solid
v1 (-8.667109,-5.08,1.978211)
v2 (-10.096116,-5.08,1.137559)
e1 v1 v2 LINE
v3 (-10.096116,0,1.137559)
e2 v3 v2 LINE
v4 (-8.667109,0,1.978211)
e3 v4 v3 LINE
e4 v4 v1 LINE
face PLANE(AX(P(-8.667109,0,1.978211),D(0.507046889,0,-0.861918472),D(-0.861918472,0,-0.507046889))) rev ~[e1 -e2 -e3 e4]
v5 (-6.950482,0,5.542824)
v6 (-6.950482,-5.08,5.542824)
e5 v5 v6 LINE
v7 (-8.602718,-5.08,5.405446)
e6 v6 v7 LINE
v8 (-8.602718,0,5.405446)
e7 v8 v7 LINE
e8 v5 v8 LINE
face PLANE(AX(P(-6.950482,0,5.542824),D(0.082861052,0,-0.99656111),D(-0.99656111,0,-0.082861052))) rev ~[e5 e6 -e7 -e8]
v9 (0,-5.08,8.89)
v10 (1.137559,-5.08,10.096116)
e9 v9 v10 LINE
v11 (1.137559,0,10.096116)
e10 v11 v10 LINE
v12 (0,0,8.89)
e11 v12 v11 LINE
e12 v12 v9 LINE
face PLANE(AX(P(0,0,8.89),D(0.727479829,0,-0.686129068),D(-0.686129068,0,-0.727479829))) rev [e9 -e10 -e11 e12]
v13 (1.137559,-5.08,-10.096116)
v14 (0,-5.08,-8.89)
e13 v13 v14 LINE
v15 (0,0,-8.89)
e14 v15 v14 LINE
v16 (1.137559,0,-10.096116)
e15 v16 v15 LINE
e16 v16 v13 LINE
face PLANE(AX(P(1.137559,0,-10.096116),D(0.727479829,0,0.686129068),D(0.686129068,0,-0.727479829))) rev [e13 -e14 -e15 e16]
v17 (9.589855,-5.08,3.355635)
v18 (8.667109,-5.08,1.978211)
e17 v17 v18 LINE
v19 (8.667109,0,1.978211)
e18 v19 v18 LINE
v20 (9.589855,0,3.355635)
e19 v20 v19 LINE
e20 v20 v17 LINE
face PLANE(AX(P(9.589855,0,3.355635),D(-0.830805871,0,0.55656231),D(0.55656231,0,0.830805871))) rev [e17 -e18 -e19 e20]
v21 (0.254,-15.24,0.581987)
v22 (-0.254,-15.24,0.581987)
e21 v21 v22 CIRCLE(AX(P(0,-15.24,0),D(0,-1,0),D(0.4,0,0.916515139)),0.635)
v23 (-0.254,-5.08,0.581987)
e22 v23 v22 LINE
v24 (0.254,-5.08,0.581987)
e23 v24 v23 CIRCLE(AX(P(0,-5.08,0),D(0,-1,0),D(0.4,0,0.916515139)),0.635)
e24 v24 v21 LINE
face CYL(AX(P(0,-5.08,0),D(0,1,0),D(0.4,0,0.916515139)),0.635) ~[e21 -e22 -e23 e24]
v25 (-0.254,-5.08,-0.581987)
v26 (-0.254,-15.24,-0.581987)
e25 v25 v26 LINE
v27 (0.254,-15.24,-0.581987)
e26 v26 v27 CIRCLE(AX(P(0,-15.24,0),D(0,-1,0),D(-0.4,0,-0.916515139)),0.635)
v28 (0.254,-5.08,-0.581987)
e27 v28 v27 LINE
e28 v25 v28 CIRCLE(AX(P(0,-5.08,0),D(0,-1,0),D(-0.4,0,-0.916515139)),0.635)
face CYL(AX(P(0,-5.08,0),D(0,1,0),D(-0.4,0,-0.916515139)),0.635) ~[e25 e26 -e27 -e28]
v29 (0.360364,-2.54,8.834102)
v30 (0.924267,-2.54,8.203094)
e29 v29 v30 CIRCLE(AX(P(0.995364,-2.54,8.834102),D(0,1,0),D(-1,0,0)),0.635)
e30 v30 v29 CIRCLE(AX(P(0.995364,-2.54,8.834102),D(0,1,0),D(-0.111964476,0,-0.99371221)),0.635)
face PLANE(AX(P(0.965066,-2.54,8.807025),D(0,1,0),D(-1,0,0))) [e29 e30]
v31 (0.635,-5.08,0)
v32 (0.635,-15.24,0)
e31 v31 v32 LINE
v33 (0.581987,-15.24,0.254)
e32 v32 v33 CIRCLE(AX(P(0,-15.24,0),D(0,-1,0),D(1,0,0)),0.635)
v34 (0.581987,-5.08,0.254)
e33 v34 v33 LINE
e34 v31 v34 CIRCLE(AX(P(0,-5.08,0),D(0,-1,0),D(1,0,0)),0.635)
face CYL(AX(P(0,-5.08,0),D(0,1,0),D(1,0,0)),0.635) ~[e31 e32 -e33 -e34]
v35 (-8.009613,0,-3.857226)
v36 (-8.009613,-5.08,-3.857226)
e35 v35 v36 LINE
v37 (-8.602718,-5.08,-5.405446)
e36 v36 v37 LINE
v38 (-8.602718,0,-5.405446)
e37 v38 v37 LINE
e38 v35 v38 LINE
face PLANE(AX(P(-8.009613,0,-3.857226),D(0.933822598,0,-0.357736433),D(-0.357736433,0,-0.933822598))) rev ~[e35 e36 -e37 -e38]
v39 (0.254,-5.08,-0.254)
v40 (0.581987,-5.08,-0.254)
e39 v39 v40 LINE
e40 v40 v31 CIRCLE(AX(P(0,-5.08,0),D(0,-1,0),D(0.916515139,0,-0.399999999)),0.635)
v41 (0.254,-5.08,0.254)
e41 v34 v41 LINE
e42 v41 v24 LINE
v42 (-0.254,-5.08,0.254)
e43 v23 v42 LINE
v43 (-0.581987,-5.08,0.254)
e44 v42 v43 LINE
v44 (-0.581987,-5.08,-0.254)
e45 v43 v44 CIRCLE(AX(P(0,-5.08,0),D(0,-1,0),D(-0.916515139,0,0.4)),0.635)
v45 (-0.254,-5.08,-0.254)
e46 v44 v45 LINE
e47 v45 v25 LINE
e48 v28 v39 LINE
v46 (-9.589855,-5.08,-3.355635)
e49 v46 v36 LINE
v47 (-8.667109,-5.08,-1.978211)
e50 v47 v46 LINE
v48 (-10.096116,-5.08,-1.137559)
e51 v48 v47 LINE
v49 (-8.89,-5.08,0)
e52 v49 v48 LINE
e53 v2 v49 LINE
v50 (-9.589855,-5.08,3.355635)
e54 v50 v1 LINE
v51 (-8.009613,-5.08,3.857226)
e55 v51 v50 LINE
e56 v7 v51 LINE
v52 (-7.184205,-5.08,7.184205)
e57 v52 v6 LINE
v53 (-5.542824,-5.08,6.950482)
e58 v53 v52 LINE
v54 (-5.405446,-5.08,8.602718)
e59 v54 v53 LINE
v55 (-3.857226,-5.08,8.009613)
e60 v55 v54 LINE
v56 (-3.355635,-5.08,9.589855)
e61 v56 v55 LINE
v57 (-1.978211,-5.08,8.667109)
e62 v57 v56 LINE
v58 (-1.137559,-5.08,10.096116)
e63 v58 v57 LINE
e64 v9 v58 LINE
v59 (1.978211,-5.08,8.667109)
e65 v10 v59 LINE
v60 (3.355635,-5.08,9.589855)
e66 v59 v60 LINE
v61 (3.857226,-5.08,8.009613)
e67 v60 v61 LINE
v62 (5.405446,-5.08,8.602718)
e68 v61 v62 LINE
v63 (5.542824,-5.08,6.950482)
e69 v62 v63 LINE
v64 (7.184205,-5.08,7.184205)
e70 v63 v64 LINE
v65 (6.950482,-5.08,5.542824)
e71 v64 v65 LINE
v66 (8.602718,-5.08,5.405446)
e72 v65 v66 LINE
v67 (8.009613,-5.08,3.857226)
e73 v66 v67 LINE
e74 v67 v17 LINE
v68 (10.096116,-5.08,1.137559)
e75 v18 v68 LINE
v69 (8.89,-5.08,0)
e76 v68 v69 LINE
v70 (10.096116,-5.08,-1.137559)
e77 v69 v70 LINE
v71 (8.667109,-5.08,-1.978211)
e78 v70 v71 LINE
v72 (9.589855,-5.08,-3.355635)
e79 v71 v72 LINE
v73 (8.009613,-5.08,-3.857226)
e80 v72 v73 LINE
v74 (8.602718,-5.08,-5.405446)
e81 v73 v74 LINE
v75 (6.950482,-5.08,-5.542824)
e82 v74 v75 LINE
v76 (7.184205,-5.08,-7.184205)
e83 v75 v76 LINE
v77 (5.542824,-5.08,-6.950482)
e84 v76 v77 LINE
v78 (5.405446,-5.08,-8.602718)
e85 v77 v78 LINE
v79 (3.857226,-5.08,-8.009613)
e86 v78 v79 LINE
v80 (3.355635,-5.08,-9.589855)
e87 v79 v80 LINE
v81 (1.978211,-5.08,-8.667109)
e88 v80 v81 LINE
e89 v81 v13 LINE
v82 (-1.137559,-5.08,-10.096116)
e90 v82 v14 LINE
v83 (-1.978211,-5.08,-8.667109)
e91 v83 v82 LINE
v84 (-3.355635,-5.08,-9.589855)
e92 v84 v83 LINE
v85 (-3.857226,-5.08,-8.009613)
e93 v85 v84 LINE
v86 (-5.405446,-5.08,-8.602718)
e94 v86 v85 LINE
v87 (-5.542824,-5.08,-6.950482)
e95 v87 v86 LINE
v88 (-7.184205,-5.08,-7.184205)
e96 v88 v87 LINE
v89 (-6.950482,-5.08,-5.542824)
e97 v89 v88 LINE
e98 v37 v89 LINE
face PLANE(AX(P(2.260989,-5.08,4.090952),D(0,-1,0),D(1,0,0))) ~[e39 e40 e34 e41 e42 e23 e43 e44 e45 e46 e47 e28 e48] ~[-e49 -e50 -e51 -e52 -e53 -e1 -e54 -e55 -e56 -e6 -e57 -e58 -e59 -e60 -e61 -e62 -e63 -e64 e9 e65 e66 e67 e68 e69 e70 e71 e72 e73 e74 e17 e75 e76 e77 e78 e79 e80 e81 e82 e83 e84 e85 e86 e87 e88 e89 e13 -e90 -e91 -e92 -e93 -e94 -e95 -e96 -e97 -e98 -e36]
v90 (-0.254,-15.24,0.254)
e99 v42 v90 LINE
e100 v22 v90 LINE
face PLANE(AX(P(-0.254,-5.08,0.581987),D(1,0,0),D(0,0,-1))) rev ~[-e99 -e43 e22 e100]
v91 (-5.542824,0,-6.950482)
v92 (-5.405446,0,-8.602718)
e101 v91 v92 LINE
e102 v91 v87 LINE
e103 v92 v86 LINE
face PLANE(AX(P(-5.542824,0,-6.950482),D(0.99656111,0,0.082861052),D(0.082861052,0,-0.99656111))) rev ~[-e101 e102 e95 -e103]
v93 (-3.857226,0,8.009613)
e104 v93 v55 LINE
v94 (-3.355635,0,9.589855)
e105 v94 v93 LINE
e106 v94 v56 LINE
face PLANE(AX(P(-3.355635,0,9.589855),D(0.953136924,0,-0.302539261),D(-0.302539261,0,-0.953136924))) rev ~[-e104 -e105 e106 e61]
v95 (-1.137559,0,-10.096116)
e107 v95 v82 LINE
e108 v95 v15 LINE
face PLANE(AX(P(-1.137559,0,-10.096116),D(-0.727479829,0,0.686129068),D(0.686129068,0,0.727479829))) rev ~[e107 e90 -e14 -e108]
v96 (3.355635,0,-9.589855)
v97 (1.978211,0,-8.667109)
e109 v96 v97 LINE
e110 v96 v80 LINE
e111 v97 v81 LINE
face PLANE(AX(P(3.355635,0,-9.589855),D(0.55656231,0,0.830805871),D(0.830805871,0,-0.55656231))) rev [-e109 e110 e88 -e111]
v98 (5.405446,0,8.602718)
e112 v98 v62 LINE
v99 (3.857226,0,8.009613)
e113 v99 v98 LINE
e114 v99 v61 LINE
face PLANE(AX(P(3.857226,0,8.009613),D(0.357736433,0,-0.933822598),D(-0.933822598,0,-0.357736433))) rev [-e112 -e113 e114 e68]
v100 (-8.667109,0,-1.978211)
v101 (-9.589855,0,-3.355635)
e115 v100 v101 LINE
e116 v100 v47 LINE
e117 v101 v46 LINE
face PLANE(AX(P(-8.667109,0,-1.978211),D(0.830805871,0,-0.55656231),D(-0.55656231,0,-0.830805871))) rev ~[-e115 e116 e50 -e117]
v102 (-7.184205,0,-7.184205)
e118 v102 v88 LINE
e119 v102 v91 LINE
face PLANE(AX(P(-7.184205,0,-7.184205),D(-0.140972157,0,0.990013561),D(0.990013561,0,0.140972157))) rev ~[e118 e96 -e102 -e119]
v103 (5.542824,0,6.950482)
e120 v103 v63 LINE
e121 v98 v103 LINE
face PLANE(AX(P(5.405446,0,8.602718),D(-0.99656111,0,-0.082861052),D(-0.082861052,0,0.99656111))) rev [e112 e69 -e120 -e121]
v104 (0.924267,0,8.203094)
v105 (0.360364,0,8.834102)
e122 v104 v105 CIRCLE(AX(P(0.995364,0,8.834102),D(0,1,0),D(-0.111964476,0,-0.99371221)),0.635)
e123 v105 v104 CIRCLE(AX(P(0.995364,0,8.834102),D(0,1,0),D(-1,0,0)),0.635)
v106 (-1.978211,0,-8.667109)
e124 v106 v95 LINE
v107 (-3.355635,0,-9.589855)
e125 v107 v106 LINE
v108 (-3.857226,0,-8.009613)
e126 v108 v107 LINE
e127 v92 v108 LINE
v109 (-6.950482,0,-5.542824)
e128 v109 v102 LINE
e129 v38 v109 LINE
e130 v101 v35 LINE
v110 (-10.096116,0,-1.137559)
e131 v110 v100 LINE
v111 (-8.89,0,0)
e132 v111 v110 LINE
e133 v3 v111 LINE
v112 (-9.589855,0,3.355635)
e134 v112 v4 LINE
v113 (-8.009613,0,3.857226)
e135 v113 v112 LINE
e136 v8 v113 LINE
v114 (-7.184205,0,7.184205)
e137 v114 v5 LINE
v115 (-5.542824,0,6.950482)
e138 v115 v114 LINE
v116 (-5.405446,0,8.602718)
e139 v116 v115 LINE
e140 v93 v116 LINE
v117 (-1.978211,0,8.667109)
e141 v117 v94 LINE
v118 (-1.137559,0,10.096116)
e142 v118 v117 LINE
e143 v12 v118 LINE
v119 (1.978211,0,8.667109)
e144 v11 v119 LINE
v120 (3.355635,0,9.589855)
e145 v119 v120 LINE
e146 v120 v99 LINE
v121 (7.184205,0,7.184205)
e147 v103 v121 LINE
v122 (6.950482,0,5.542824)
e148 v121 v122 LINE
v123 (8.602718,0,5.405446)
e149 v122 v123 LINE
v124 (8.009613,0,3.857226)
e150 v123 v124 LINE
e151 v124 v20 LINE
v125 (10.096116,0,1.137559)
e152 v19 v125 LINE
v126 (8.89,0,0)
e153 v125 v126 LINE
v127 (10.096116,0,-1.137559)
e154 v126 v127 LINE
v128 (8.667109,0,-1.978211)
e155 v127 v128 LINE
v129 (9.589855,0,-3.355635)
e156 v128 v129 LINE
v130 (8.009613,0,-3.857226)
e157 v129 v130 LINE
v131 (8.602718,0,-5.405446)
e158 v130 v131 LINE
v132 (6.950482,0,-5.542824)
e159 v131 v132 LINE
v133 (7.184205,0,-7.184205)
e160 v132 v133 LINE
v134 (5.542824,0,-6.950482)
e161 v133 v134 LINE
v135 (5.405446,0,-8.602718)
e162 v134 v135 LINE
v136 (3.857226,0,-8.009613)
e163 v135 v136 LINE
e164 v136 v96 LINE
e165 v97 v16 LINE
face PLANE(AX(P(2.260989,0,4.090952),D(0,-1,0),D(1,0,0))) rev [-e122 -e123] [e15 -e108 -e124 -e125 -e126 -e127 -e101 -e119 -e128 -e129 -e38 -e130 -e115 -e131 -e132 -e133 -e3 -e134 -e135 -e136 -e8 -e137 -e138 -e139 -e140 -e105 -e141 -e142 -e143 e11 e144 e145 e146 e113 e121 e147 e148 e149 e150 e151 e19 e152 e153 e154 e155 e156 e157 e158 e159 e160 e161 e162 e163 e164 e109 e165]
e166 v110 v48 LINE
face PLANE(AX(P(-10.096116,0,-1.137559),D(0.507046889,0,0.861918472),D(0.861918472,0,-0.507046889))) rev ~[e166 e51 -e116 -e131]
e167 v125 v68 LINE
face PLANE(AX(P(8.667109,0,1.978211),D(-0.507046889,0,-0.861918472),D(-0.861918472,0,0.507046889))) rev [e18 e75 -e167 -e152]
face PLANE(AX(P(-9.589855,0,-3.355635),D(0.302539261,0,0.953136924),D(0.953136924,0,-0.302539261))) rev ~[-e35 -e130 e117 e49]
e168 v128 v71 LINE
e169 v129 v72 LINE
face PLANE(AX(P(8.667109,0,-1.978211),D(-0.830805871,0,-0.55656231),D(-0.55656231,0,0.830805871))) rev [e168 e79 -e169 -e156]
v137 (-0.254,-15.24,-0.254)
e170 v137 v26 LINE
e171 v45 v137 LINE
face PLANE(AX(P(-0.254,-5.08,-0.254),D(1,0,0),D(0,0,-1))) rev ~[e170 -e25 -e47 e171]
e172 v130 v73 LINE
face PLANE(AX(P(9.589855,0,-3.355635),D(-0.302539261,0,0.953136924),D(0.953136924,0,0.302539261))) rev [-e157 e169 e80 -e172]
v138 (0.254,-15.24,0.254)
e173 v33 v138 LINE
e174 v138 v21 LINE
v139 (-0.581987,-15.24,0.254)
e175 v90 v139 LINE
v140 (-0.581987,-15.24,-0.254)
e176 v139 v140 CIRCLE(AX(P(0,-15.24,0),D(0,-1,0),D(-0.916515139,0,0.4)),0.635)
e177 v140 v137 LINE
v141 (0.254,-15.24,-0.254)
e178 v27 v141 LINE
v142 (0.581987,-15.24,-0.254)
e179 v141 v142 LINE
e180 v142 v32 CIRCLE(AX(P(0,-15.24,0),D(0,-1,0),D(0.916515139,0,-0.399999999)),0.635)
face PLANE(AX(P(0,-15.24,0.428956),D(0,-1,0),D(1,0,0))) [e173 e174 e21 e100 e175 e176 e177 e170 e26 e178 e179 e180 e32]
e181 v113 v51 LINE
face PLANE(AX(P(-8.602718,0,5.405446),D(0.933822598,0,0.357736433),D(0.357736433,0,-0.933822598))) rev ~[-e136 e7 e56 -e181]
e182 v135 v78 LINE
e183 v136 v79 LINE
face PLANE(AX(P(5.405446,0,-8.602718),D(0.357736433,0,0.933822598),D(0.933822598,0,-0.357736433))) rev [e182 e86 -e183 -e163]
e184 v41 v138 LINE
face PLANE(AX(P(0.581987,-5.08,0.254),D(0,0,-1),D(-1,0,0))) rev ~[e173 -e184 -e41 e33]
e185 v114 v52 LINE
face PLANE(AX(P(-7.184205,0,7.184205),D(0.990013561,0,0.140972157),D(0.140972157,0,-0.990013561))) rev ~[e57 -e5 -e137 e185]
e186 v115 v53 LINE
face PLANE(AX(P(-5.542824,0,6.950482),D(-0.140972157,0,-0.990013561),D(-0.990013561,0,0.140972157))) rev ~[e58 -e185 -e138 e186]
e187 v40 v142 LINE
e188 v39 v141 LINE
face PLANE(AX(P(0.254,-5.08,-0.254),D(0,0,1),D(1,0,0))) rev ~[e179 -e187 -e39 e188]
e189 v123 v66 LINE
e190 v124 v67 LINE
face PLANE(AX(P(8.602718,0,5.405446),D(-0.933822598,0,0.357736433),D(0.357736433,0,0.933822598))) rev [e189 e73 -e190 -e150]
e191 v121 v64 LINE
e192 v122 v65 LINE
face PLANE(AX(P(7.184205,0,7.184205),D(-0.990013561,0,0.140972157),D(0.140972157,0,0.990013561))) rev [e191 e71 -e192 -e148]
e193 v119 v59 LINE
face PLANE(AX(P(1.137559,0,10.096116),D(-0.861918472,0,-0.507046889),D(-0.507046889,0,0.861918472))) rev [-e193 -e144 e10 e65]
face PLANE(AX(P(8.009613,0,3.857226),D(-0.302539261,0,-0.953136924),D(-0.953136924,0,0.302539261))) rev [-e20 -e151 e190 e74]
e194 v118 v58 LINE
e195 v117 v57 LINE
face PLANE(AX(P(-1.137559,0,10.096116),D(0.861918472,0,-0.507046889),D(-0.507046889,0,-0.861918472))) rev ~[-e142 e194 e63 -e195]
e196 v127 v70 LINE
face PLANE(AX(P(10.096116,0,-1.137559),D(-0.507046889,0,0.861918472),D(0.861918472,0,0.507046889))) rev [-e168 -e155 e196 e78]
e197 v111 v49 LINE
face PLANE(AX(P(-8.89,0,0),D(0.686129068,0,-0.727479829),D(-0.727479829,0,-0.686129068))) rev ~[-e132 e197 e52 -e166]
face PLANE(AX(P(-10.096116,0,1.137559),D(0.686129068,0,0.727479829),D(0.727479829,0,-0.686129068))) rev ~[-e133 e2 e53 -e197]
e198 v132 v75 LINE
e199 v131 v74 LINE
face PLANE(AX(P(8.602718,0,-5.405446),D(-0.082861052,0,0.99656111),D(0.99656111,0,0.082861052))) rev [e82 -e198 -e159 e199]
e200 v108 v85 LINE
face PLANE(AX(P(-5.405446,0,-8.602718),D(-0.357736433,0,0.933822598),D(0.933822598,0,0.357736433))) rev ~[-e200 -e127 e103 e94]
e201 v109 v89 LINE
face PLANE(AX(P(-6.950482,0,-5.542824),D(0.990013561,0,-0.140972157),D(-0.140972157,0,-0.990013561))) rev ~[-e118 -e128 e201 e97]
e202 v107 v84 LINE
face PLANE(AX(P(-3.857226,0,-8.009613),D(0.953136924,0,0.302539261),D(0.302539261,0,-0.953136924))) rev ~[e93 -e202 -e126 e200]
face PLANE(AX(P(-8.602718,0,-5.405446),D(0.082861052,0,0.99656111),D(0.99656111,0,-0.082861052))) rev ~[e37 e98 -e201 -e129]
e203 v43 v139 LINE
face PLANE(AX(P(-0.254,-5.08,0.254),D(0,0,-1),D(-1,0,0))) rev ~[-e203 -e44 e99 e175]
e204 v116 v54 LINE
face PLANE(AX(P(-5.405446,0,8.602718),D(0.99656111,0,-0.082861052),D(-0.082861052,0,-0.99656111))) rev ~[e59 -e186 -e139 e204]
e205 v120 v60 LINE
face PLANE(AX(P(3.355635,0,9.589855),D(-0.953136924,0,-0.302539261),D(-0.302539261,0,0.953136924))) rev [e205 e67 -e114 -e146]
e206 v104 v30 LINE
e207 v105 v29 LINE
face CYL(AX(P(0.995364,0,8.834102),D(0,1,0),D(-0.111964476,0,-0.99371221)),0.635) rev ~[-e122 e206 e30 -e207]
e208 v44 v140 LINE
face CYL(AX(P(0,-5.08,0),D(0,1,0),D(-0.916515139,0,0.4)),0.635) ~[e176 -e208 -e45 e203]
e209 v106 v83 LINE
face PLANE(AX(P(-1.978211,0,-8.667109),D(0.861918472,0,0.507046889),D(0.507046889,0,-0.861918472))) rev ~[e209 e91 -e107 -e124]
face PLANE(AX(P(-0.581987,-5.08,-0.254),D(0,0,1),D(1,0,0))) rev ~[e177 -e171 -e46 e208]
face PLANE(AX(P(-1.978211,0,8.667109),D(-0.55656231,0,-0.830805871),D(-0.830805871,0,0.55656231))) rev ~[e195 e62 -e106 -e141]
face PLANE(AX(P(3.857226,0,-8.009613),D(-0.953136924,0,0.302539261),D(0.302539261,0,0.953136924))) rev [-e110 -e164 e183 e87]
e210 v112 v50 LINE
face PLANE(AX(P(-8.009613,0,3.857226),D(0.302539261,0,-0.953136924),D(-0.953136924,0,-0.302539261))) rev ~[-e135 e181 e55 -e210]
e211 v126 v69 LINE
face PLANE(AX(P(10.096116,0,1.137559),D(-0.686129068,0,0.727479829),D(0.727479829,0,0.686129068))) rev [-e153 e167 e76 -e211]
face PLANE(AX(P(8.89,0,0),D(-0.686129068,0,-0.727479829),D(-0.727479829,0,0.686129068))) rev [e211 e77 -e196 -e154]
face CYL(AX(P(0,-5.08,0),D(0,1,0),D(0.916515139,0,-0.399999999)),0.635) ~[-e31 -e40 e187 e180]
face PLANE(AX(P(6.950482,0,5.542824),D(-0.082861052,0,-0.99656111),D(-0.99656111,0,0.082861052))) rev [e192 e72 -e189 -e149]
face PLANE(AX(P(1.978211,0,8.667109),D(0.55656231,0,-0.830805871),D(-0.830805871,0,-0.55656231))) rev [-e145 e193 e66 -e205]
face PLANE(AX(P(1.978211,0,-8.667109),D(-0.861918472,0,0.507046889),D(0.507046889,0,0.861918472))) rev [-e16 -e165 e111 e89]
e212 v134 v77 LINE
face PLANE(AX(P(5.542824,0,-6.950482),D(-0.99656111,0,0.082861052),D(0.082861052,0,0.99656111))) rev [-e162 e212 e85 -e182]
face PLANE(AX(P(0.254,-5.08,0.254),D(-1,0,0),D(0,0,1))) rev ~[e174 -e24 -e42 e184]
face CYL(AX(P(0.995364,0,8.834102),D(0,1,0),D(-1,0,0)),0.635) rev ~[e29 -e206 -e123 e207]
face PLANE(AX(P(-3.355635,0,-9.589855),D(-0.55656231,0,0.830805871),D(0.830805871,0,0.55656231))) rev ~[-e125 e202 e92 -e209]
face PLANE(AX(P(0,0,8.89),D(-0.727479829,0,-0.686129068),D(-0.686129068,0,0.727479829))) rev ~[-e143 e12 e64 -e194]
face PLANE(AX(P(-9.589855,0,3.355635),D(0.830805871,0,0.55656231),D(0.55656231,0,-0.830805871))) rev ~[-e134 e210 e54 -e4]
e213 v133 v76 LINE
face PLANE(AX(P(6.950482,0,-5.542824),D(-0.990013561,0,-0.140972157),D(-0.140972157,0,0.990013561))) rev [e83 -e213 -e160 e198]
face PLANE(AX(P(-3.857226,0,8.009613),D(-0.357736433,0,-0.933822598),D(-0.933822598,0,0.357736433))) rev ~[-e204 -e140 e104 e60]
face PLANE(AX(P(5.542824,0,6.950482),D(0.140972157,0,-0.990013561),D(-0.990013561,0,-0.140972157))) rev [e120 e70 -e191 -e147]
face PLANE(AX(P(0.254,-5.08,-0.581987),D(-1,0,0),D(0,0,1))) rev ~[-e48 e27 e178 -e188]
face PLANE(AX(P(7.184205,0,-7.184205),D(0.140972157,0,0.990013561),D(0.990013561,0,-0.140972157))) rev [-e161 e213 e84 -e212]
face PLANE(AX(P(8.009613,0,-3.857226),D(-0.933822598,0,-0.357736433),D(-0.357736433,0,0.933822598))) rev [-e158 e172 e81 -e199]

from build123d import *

# Parameters (mm, degrees)
F1_DEPTH = 5.08
F3_W     = 0.508
F3_H     = 0.508
F4_DEPTH = 10.16
F6_DEPTH = 2.54


with BuildPart() as f1:
    # F0 (on Front) → F1 (new body)
    with BuildSketch(Plane.XZ):
        with BuildLine():
            Line((-4.7297651602, 7.5273781311), (0, 0))
            Line((0, 0), (-3.8572264408, 8.0096132357))
            ThreePointArc((-3.8572264408, 8.0096132357), (-4.3002609064, 7.7807362208), (-4.7297651602, 7.5273781311))
        make_face()
        with BuildLine():
            Line((-5.5428243385, 6.9504818791), (0, 0))
            Line((0, 0), (-4.7297651602, 7.5273781311))
            ThreePointArc((-4.7297651602, 7.5273781311), (-5.144387823, 7.250336125), (-5.5428243385, 6.9504818791))
        make_face()
        with BuildLine():
            Line((-5.4054458974, 8.6027178642), (-5.5428243385, 6.9504818791))
            ThreePointArc((-5.5428243385, 6.9504818791), (-5.144387823, 7.250336125), (-4.7297651602, 7.5273781311))
            Line((-4.7297651602, 7.5273781311), (-5.4054458974, 8.6027178642))
        make_face()
        with BuildLine():
            Line((-5.4054458974, 8.6027178642), (-4.7297651602, 7.5273781311))
            ThreePointArc((-4.7297651602, 7.5273781311), (-4.3002609064, 7.7807362208), (-3.8572264408, 8.0096132357))
            Line((-3.8572264408, 8.0096132357), (-5.4054458974, 8.6027178642))
        make_face()
        with BuildLine():
            Line((-3.3556352695, 9.5898546359), (-3.8572264408, 8.0096132357))
            ThreePointArc((-3.8572264408, 8.0096132357), (-3.4020557137, 8.213289044), (-2.9361808608, 8.3911228064))
            Line((-2.9361808608, 8.3911228064), (-3.3556352695, 9.5898546359))
        make_face()
        with BuildLine():
            Line((-3.3556352695, 9.5898546359), (-2.9361808608, 8.3911228064))
            ThreePointArc((-2.9361808608, 8.3911228064), (-2.4610676966, 8.5425549921), (-1.9782111029, 8.6671091393))
            Line((-1.9782111029, 8.6671091393), (-3.3556352695, 9.5898546359))
        make_face()
        with BuildLine():
            Line((-2.9361808608, 8.3911228064), (0, 0))
            Line((0, 0), (-1.9782111029, 8.6671091393))
            ThreePointArc((-1.9782111029, 8.6671091393), (-2.4610676966, 8.5425549921), (-2.9361808608, 8.3911228064))
        make_face()
        with BuildLine():
            Line((-3.8572264408, 8.0096132357), (0, 0))
            Line((0, 0), (-2.9361808608, 8.3911228064))
            ThreePointArc((-2.9361808608, 8.3911228064), (-3.4020557137, 8.213289044), (-3.8572264408, 8.0096132357))
        make_face()
        with BuildLine():
            Line((-0.9953641926, 8.834101546), (0, 0))
            Line((0, 0), (0, 8.89))
            ThreePointArc((0, 8.89), (-0.4984662759, 8.8760143855), (-0.9953641926, 8.834101546))
        make_face()
        with BuildLine():
            ThreePointArc((-0.9953641926, 8.834101546), (-0.4984662759, 8.8760143855), (0, 8.89))
            Line((0, 8.89), (-1.1375590772, 10.0961160525))
            Line((-1.1375590772, 10.0961160525), (-0.9953641926, 8.834101546))
        make_face()
        with BuildLine():
            Line((-1.1375590772, 10.0961160525), (-1.9782111029, 8.6671091393))
            ThreePointArc((-1.9782111029, 8.6671091393), (-1.4891303252, 8.7643933546), (-0.9953641926, 8.834101546))
            Line((-0.9953641926, 8.834101546), (-1.1375590772, 10.0961160525))
        make_face()
        with BuildLine():
            Line((-1.9782111029, 8.6671091393), (0, 0))
            Line((0, 0), (-0.9953641926, 8.834101546))
            ThreePointArc((-0.9953641926, 8.834101546), (-1.4891303252, 8.7643933546), (-1.9782111029, 8.6671091393))
        make_face()
        with BuildLine():
            Line((-6.2861792847, 6.2861792847), (0, 0))
            Line((0, 0), (-5.5428243385, 6.9504818791))
            ThreePointArc((-5.5428243385, 6.9504818791), (-5.923821078, 6.6287588458), (-6.2861792847, 6.2861792847))
        make_face()
        with BuildLine():
            Line((-7.1842048969, 7.1842048969), (-6.2861792847, 6.2861792847))
            ThreePointArc((-6.2861792847, 6.2861792847), (-5.923821078, 6.6287588458), (-5.5428243385, 6.9504818791))
            Line((-5.5428243385, 6.9504818791), (-7.1842048969, 7.1842048969))
        make_face()
        with BuildLine():
            Line((-6.9504818791, 5.5428243385), (0, 0))
            Line((0, 0), (-6.2861792847, 6.2861792847))
            ThreePointArc((-6.2861792847, 6.2861792847), (-6.6287588458, 5.923821078), (-6.9504818791, 5.5428243385))
        make_face()
        with BuildLine():
            Line((-7.1842048969, 7.1842048969), (-6.9504818791, 5.5428243385))
            ThreePointArc((-6.9504818791, 5.5428243385), (-6.6287588458, 5.923821078), (-6.2861792847, 6.2861792847))
            Line((-6.2861792847, 6.2861792847), (-7.1842048969, 7.1842048969))
        make_face()
        with BuildLine():
            Line((-7.5273781311, 4.7297651602), (0, 0))
            Line((0, 0), (-6.9504818791, 5.5428243385))
            ThreePointArc((-6.9504818791, 5.5428243385), (-7.250336125, 5.144387823), (-7.5273781311, 4.7297651602))
        make_face()
        with BuildLine():
            Line((-8.6027178642, 5.4054458974), (-7.5273781311, 4.7297651602))
            ThreePointArc((-7.5273781311, 4.7297651602), (-7.250336125, 5.144387823), (-6.9504818791, 5.5428243385))
            Line((-6.9504818791, 5.5428243385), (-8.6027178642, 5.4054458974))
        make_face()
        with BuildLine():
            Line((-8.6027178642, 5.4054458974), (-8.0096132357, 3.8572264408))
            ThreePointArc((-8.0096132357, 3.8572264408), (-7.7807362208, 4.3002609064), (-7.5273781311, 4.7297651602))
            Line((-7.5273781311, 4.7297651602), (-8.6027178642, 5.4054458974))
        make_face()
        with BuildLine():
            Line((-8.0096132357, 3.8572264408), (0, 0))
            Line((0, 0), (-7.5273781311, 4.7297651602))
            ThreePointArc((-7.5273781311, 4.7297651602), (-7.7807362208, 4.3002609064), (-8.0096132357, 3.8572264408))
        make_face()
        with BuildLine():
            Line((-8.3911228064, 2.9361808608), (0, 0))
            Line((0, 0), (-8.0096132357, 3.8572264408))
            ThreePointArc((-8.0096132357, 3.8572264408), (-8.213289044, 3.4020557137), (-8.3911228064, 2.9361808608))
        make_face()
        with BuildLine():
            Line((-9.5898546359, 3.3556352695), (-8.3911228064, 2.9361808608))
            ThreePointArc((-8.3911228064, 2.9361808608), (-8.213289044, 3.4020557137), (-8.0096132357, 3.8572264408))
            Line((-8.0096132357, 3.8572264408), (-9.5898546359, 3.3556352695))
        make_face()
        with BuildLine():
            Line((-9.5898546359, 3.3556352695), (-8.6671091393, 1.9782111029))
            ThreePointArc((-8.6671091393, 1.9782111029), (-8.5425549921, 2.4610676966), (-8.3911228064, 2.9361808608))
            Line((-8.3911228064, 2.9361808608), (-9.5898546359, 3.3556352695))
        make_face()
        with BuildLine():
            Line((-8.6671091393, 1.9782111029), (0, 0))
            Line((0, 0), (-8.3911228064, 2.9361808608))
            ThreePointArc((-8.3911228064, 2.9361808608), (-8.5425549921, 2.4610676966), (-8.6671091393, 1.9782111029))
        make_face()
        with BuildLine():
            Line((-8.834101546, 0.9953641926), (0, 0))
            Line((0, 0), (-8.6671091393, 1.9782111029))
            ThreePointArc((-8.6671091393, 1.9782111029), (-8.7643933546, 1.4891303252), (-8.834101546, 0.9953641926))
        make_face()
        with BuildLine():
            Line((-10.0961160525, 1.1375590772), (-8.834101546, 0.9953641926))
            ThreePointArc((-8.834101546, 0.9953641926), (-8.7643933546, 1.4891303252), (-8.6671091393, 1.9782111029))
            Line((-8.6671091393, 1.9782111029), (-10.0961160525, 1.1375590772))
        make_face()
        with BuildLine():
            Line((-10.0961160525, 1.1375590772), (-8.89, 0))
            ThreePointArc((-8.89, 0), (-8.8760143855, 0.4984662759), (-8.834101546, 0.9953641926))
            Line((-8.834101546, 0.9953641926), (-10.0961160525, 1.1375590772))
        make_face()
        with BuildLine():
            Line((-8.89, 0), (0, 0))
            Line((0, 0), (-8.834101546, 0.9953641926))
            ThreePointArc((-8.834101546, 0.9953641926), (-8.8760143855, 0.4984662759), (-8.89, 0))
        make_face()
        with BuildLine():
            Line((-8.834101546, -0.9953641926), (0, 0))
            Line((0, 0), (-8.89, 0))
            ThreePointArc((-8.89, 0), (-8.8760143855, -0.4984662759), (-8.834101546, -0.9953641926))
        make_face()
        with BuildLine():
            Line((-10.0961160525, -1.1375590772), (-8.834101546, -0.9953641926))
            ThreePointArc((-8.834101546, -0.9953641926), (-8.8760143855, -0.4984662759), (-8.89, 0))
            Line((-8.89, 0), (-10.0961160525, -1.1375590772))
        make_face()
        with BuildLine():
            Line((-10.0961160525, -1.1375590772), (-8.6671091393, -1.9782111029))
            ThreePointArc((-8.6671091393, -1.9782111029), (-8.7643933546, -1.4891303252), (-8.834101546, -0.9953641926))
            Line((-8.834101546, -0.9953641926), (-10.0961160525, -1.1375590772))
        make_face()
        with BuildLine():
            Line((-8.6671091393, -1.9782111029), (0, 0))
            Line((0, 0), (-8.834101546, -0.9953641926))
            ThreePointArc((-8.834101546, -0.9953641926), (-8.7643933546, -1.4891303252), (-8.6671091393, -1.9782111029))
        make_face()
        with BuildLine():
            Line((-8.3911228064, -2.9361808608), (0, 0))
            Line((0, 0), (-8.6671091393, -1.9782111029))
            ThreePointArc((-8.6671091393, -1.9782111029), (-8.5425549921, -2.4610676966), (-8.3911228064, -2.9361808608))
        make_face()
        with BuildLine():
            Line((-9.5898546359, -3.3556352695), (-8.3911228064, -2.9361808608))
            ThreePointArc((-8.3911228064, -2.9361808608), (-8.5425549921, -2.4610676966), (-8.6671091393, -1.9782111029))
            Line((-8.6671091393, -1.9782111029), (-9.5898546359, -3.3556352695))
        make_face()
        with BuildLine():
            Line((-9.5898546359, -3.3556352695), (-8.0096132357, -3.8572264408))
            ThreePointArc((-8.0096132357, -3.8572264408), (-8.213289044, -3.4020557137), (-8.3911228064, -2.9361808608))
            Line((-8.3911228064, -2.9361808608), (-9.5898546359, -3.3556352695))
        make_face()
        with BuildLine():
            Line((-8.0096132357, -3.8572264408), (0, 0))
            Line((0, 0), (-8.3911228064, -2.9361808608))
            ThreePointArc((-8.3911228064, -2.9361808608), (-8.213289044, -3.4020557137), (-8.0096132357, -3.8572264408))
        make_face()
        with BuildLine():
            Line((-7.5273781311, -4.7297651602), (0, 0))
            Line((0, 0), (-8.0096132357, -3.8572264408))
            ThreePointArc((-8.0096132357, -3.8572264408), (-7.7807362208, -4.3002609064), (-7.5273781311, -4.7297651602))
        make_face()
        with BuildLine():
            Line((-8.6027178642, -5.4054458974), (-7.5273781311, -4.7297651602))
            ThreePointArc((-7.5273781311, -4.7297651602), (-7.7807362208, -4.3002609064), (-8.0096132357, -3.8572264408))
            Line((-8.0096132357, -3.8572264408), (-8.6027178642, -5.4054458974))
        make_face()
        with BuildLine():
            Line((-8.6027178642, -5.4054458974), (-6.9504818791, -5.5428243385))
            ThreePointArc((-6.9504818791, -5.5428243385), (-7.250336125, -5.144387823), (-7.5273781311, -4.7297651602))
            Line((-7.5273781311, -4.7297651602), (-8.6027178642, -5.4054458974))
        make_face()
        with BuildLine():
            Line((-6.9504818791, -5.5428243385), (0, 0))
            Line((0, 0), (-7.5273781311, -4.7297651602))
            ThreePointArc((-7.5273781311, -4.7297651602), (-7.250336125, -5.144387823), (-6.9504818791, -5.5428243385))
        make_face()
        with BuildLine():
            Line((-6.2861792847, -6.2861792847), (0, 0))
            Line((0, 0), (-6.9504818791, -5.5428243385))
            ThreePointArc((-6.9504818791, -5.5428243385), (-6.6287588458, -5.923821078), (-6.2861792847, -6.2861792847))
        make_face()
        with BuildLine():
            Line((-5.5428243385, -6.9504818791), (0, 0))
            Line((0, 0), (-6.2861792847, -6.2861792847))
            ThreePointArc((-6.2861792847, -6.2861792847), (-5.923821078, -6.6287588458), (-5.5428243385, -6.9504818791))
        make_face()
        with BuildLine():
            Line((-4.7297651602, -7.5273781311), (0, 0))
            Line((0, 0), (-5.5428243385, -6.9504818791))
            ThreePointArc((-5.5428243385, -6.9504818791), (-5.144387823, -7.250336125), (-4.7297651602, -7.5273781311))
        make_face()
        with BuildLine():
            Line((-7.1842048969, -7.1842048969), (-6.2861792847, -6.2861792847))
            ThreePointArc((-6.2861792847, -6.2861792847), (-6.6287588458, -5.923821078), (-6.9504818791, -5.5428243385))
            Line((-6.9504818791, -5.5428243385), (-7.1842048969, -7.1842048969))
        make_face()
        with BuildLine():
            Line((-7.1842048969, -7.1842048969), (-5.5428243385, -6.9504818791))
            ThreePointArc((-5.5428243385, -6.9504818791), (-5.923821078, -6.6287588458), (-6.2861792847, -6.2861792847))
            Line((-6.2861792847, -6.2861792847), (-7.1842048969, -7.1842048969))
        make_face()
        with BuildLine():
            Line((-5.4054458974, -8.6027178642), (-4.7297651602, -7.5273781311))
            ThreePointArc((-4.7297651602, -7.5273781311), (-5.144387823, -7.250336125), (-5.5428243385, -6.9504818791))
            Line((-5.5428243385, -6.9504818791), (-5.4054458974, -8.6027178642))
        make_face()
        with BuildLine():
            Line((-5.4054458974, -8.6027178642), (-3.8572264408, -8.0096132357))
            ThreePointArc((-3.8572264408, -8.0096132357), (-4.3002609064, -7.7807362208), (-4.7297651602, -7.5273781311))
            Line((-4.7297651602, -7.5273781311), (-5.4054458974, -8.6027178642))
        make_face()
        with BuildLine():
            Line((-2.9361808608, -8.3911228064), (0, 0))
            Line((0, 0), (-3.8572264408, -8.0096132357))
            ThreePointArc((-3.8572264408, -8.0096132357), (-3.4020557137, -8.213289044), (-2.9361808608, -8.3911228064))
        make_face()
        with BuildLine():
            Line((-3.3556352695, -9.5898546359), (-2.9361808608, -8.3911228064))
            ThreePointArc((-2.9361808608, -8.3911228064), (-3.4020557137, -8.213289044), (-3.8572264408, -8.0096132357))
            Line((-3.8572264408, -8.0096132357), (-3.3556352695, -9.5898546359))
        make_face()
        with BuildLine():
            Line((-3.3556352695, -9.5898546359), (-1.9782111029, -8.6671091393))
            ThreePointArc((-1.9782111029, -8.6671091393), (-2.4610676966, -8.5425549921), (-2.9361808608, -8.3911228064))
            Line((-2.9361808608, -8.3911228064), (-3.3556352695, -9.5898546359))
        make_face()
        with BuildLine():
            Line((-1.9782111029, -8.6671091393), (0, 0))
            Line((0, 0), (-2.9361808608, -8.3911228064))
            ThreePointArc((-2.9361808608, -8.3911228064), (-2.4610676966, -8.5425549921), (-1.9782111029, -8.6671091393))
        make_face()
        with BuildLine():
            Line((-0.9953641926, -8.834101546), (0, 0))
            Line((0, 0), (-1.9782111029, -8.6671091393))
            ThreePointArc((-1.9782111029, -8.6671091393), (-1.4891303252, -8.7643933546), (-0.9953641926, -8.834101546))
        make_face()
        with BuildLine():
            Line((-1.1375590772, -10.0961160525), (0, -8.89))
            ThreePointArc((0, -8.89), (-0.4984662759, -8.8760143855), (-0.9953641926, -8.834101546))
            Line((-0.9953641926, -8.834101546), (-1.1375590772, -10.0961160525))
        make_face()
        with BuildLine():
            ThreePointArc((-0.9953641926, -8.834101546), (-1.4891303252, -8.7643933546), (-1.9782111029, -8.6671091393))
            Line((-1.9782111029, -8.6671091393), (-1.1375590772, -10.0961160525))
            Line((-1.1375590772, -10.0961160525), (-0.9953641926, -8.834101546))
        make_face()
        with BuildLine():
            Line((0, -8.89), (0, 0))
            Line((0, 0), (-0.9953641926, -8.834101546))
            ThreePointArc((-0.9953641926, -8.834101546), (-0.4984662759, -8.8760143855), (0, -8.89))
        make_face()
        with BuildLine():
            Line((-3.8572264408, -8.0096132357), (0, 0))
            Line((0, 0), (-4.7297651602, -7.5273781311))
            ThreePointArc((-4.7297651602, -7.5273781311), (-4.3002609064, -7.7807362208), (-3.8572264408, -8.0096132357))
        make_face()
    extrude(amount=F1_DEPTH)

    # F2: F1 across plane


with BuildPart() as f1_1:
    add(f1.part)
    add(f1.part.mirror(Plane.YZ))

    # F3 (on face) → F4 (join)
    with BuildSketch(Plane.XZ.offset(5.08)):
        with BuildLine():
            Line((0.254, 0.254), (0.254, 0.5819871133))
            ThreePointArc((0.254, 0.5819871133), (0, 0.635), (-0.254, 0.5819871133))
            Line((-0.254, 0.5819871133), (-0.254, 0.254))
            Line((-0.254, 0.254), (0.254, 0.254))
        make_face()
        with BuildLine():
            Line((-0.254, -0.254), (-0.254, 0.254))
            Line((-0.254, 0.254), (-0.5819871133, 0.254))
            ThreePointArc((-0.5819871133, 0.254), (-0.635, 0), (-0.5819871133, -0.254))
            Line((-0.5819871133, -0.254), (-0.254, -0.254))
        make_face()
        Rectangle(F3_W, F3_H)
        with BuildLine():
            ThreePointArc((0.5819871133, -0.254), (0.6216055087, -0.1297366237), (0.635, 0))
            ThreePointArc((0.635, 0), (0.6216055087, 0.1297366237), (0.5819871133, 0.254))
            Line((0.5819871133, 0.254), (0.254, 0.254))
            Line((0.254, 0.254), (0.254, -0.254))
            Line((0.254, -0.254), (0.5819871133, -0.254))
        make_face()
        with BuildLine():
            ThreePointArc((-0.254, -0.5819871133), (0, -0.635), (0.254, -0.5819871133))
            Line((0.254, -0.5819871133), (0.254, -0.254))
            Line((0.254, -0.254), (-0.254, -0.254))
            Line((-0.254, -0.254), (-0.254, -0.5819871133))
        make_face()
    extrude(amount=F4_DEPTH)

    # F5 (on face) → F6 (cut)
    with BuildSketch(Plane(origin=(0, 0, 0), x_dir=(-1, 0, 0), z_dir=(0, 1, 0))):
        with BuildLine():
            ThreePointArc((-0.9242667502, 8.2030942927), (-0.5218814179, 8.410971469), (-0.3603641926, 8.834101546))
            ThreePointArc((-0.3603641926, 8.834101546), (-1.4688469673, 9.257231623), (-0.9242667502, 8.2030942927))
        make_face()
    extrude(amount=-F6_DEPTH, mode=Mode.SUBTRACT)


solid = f1_1.part
